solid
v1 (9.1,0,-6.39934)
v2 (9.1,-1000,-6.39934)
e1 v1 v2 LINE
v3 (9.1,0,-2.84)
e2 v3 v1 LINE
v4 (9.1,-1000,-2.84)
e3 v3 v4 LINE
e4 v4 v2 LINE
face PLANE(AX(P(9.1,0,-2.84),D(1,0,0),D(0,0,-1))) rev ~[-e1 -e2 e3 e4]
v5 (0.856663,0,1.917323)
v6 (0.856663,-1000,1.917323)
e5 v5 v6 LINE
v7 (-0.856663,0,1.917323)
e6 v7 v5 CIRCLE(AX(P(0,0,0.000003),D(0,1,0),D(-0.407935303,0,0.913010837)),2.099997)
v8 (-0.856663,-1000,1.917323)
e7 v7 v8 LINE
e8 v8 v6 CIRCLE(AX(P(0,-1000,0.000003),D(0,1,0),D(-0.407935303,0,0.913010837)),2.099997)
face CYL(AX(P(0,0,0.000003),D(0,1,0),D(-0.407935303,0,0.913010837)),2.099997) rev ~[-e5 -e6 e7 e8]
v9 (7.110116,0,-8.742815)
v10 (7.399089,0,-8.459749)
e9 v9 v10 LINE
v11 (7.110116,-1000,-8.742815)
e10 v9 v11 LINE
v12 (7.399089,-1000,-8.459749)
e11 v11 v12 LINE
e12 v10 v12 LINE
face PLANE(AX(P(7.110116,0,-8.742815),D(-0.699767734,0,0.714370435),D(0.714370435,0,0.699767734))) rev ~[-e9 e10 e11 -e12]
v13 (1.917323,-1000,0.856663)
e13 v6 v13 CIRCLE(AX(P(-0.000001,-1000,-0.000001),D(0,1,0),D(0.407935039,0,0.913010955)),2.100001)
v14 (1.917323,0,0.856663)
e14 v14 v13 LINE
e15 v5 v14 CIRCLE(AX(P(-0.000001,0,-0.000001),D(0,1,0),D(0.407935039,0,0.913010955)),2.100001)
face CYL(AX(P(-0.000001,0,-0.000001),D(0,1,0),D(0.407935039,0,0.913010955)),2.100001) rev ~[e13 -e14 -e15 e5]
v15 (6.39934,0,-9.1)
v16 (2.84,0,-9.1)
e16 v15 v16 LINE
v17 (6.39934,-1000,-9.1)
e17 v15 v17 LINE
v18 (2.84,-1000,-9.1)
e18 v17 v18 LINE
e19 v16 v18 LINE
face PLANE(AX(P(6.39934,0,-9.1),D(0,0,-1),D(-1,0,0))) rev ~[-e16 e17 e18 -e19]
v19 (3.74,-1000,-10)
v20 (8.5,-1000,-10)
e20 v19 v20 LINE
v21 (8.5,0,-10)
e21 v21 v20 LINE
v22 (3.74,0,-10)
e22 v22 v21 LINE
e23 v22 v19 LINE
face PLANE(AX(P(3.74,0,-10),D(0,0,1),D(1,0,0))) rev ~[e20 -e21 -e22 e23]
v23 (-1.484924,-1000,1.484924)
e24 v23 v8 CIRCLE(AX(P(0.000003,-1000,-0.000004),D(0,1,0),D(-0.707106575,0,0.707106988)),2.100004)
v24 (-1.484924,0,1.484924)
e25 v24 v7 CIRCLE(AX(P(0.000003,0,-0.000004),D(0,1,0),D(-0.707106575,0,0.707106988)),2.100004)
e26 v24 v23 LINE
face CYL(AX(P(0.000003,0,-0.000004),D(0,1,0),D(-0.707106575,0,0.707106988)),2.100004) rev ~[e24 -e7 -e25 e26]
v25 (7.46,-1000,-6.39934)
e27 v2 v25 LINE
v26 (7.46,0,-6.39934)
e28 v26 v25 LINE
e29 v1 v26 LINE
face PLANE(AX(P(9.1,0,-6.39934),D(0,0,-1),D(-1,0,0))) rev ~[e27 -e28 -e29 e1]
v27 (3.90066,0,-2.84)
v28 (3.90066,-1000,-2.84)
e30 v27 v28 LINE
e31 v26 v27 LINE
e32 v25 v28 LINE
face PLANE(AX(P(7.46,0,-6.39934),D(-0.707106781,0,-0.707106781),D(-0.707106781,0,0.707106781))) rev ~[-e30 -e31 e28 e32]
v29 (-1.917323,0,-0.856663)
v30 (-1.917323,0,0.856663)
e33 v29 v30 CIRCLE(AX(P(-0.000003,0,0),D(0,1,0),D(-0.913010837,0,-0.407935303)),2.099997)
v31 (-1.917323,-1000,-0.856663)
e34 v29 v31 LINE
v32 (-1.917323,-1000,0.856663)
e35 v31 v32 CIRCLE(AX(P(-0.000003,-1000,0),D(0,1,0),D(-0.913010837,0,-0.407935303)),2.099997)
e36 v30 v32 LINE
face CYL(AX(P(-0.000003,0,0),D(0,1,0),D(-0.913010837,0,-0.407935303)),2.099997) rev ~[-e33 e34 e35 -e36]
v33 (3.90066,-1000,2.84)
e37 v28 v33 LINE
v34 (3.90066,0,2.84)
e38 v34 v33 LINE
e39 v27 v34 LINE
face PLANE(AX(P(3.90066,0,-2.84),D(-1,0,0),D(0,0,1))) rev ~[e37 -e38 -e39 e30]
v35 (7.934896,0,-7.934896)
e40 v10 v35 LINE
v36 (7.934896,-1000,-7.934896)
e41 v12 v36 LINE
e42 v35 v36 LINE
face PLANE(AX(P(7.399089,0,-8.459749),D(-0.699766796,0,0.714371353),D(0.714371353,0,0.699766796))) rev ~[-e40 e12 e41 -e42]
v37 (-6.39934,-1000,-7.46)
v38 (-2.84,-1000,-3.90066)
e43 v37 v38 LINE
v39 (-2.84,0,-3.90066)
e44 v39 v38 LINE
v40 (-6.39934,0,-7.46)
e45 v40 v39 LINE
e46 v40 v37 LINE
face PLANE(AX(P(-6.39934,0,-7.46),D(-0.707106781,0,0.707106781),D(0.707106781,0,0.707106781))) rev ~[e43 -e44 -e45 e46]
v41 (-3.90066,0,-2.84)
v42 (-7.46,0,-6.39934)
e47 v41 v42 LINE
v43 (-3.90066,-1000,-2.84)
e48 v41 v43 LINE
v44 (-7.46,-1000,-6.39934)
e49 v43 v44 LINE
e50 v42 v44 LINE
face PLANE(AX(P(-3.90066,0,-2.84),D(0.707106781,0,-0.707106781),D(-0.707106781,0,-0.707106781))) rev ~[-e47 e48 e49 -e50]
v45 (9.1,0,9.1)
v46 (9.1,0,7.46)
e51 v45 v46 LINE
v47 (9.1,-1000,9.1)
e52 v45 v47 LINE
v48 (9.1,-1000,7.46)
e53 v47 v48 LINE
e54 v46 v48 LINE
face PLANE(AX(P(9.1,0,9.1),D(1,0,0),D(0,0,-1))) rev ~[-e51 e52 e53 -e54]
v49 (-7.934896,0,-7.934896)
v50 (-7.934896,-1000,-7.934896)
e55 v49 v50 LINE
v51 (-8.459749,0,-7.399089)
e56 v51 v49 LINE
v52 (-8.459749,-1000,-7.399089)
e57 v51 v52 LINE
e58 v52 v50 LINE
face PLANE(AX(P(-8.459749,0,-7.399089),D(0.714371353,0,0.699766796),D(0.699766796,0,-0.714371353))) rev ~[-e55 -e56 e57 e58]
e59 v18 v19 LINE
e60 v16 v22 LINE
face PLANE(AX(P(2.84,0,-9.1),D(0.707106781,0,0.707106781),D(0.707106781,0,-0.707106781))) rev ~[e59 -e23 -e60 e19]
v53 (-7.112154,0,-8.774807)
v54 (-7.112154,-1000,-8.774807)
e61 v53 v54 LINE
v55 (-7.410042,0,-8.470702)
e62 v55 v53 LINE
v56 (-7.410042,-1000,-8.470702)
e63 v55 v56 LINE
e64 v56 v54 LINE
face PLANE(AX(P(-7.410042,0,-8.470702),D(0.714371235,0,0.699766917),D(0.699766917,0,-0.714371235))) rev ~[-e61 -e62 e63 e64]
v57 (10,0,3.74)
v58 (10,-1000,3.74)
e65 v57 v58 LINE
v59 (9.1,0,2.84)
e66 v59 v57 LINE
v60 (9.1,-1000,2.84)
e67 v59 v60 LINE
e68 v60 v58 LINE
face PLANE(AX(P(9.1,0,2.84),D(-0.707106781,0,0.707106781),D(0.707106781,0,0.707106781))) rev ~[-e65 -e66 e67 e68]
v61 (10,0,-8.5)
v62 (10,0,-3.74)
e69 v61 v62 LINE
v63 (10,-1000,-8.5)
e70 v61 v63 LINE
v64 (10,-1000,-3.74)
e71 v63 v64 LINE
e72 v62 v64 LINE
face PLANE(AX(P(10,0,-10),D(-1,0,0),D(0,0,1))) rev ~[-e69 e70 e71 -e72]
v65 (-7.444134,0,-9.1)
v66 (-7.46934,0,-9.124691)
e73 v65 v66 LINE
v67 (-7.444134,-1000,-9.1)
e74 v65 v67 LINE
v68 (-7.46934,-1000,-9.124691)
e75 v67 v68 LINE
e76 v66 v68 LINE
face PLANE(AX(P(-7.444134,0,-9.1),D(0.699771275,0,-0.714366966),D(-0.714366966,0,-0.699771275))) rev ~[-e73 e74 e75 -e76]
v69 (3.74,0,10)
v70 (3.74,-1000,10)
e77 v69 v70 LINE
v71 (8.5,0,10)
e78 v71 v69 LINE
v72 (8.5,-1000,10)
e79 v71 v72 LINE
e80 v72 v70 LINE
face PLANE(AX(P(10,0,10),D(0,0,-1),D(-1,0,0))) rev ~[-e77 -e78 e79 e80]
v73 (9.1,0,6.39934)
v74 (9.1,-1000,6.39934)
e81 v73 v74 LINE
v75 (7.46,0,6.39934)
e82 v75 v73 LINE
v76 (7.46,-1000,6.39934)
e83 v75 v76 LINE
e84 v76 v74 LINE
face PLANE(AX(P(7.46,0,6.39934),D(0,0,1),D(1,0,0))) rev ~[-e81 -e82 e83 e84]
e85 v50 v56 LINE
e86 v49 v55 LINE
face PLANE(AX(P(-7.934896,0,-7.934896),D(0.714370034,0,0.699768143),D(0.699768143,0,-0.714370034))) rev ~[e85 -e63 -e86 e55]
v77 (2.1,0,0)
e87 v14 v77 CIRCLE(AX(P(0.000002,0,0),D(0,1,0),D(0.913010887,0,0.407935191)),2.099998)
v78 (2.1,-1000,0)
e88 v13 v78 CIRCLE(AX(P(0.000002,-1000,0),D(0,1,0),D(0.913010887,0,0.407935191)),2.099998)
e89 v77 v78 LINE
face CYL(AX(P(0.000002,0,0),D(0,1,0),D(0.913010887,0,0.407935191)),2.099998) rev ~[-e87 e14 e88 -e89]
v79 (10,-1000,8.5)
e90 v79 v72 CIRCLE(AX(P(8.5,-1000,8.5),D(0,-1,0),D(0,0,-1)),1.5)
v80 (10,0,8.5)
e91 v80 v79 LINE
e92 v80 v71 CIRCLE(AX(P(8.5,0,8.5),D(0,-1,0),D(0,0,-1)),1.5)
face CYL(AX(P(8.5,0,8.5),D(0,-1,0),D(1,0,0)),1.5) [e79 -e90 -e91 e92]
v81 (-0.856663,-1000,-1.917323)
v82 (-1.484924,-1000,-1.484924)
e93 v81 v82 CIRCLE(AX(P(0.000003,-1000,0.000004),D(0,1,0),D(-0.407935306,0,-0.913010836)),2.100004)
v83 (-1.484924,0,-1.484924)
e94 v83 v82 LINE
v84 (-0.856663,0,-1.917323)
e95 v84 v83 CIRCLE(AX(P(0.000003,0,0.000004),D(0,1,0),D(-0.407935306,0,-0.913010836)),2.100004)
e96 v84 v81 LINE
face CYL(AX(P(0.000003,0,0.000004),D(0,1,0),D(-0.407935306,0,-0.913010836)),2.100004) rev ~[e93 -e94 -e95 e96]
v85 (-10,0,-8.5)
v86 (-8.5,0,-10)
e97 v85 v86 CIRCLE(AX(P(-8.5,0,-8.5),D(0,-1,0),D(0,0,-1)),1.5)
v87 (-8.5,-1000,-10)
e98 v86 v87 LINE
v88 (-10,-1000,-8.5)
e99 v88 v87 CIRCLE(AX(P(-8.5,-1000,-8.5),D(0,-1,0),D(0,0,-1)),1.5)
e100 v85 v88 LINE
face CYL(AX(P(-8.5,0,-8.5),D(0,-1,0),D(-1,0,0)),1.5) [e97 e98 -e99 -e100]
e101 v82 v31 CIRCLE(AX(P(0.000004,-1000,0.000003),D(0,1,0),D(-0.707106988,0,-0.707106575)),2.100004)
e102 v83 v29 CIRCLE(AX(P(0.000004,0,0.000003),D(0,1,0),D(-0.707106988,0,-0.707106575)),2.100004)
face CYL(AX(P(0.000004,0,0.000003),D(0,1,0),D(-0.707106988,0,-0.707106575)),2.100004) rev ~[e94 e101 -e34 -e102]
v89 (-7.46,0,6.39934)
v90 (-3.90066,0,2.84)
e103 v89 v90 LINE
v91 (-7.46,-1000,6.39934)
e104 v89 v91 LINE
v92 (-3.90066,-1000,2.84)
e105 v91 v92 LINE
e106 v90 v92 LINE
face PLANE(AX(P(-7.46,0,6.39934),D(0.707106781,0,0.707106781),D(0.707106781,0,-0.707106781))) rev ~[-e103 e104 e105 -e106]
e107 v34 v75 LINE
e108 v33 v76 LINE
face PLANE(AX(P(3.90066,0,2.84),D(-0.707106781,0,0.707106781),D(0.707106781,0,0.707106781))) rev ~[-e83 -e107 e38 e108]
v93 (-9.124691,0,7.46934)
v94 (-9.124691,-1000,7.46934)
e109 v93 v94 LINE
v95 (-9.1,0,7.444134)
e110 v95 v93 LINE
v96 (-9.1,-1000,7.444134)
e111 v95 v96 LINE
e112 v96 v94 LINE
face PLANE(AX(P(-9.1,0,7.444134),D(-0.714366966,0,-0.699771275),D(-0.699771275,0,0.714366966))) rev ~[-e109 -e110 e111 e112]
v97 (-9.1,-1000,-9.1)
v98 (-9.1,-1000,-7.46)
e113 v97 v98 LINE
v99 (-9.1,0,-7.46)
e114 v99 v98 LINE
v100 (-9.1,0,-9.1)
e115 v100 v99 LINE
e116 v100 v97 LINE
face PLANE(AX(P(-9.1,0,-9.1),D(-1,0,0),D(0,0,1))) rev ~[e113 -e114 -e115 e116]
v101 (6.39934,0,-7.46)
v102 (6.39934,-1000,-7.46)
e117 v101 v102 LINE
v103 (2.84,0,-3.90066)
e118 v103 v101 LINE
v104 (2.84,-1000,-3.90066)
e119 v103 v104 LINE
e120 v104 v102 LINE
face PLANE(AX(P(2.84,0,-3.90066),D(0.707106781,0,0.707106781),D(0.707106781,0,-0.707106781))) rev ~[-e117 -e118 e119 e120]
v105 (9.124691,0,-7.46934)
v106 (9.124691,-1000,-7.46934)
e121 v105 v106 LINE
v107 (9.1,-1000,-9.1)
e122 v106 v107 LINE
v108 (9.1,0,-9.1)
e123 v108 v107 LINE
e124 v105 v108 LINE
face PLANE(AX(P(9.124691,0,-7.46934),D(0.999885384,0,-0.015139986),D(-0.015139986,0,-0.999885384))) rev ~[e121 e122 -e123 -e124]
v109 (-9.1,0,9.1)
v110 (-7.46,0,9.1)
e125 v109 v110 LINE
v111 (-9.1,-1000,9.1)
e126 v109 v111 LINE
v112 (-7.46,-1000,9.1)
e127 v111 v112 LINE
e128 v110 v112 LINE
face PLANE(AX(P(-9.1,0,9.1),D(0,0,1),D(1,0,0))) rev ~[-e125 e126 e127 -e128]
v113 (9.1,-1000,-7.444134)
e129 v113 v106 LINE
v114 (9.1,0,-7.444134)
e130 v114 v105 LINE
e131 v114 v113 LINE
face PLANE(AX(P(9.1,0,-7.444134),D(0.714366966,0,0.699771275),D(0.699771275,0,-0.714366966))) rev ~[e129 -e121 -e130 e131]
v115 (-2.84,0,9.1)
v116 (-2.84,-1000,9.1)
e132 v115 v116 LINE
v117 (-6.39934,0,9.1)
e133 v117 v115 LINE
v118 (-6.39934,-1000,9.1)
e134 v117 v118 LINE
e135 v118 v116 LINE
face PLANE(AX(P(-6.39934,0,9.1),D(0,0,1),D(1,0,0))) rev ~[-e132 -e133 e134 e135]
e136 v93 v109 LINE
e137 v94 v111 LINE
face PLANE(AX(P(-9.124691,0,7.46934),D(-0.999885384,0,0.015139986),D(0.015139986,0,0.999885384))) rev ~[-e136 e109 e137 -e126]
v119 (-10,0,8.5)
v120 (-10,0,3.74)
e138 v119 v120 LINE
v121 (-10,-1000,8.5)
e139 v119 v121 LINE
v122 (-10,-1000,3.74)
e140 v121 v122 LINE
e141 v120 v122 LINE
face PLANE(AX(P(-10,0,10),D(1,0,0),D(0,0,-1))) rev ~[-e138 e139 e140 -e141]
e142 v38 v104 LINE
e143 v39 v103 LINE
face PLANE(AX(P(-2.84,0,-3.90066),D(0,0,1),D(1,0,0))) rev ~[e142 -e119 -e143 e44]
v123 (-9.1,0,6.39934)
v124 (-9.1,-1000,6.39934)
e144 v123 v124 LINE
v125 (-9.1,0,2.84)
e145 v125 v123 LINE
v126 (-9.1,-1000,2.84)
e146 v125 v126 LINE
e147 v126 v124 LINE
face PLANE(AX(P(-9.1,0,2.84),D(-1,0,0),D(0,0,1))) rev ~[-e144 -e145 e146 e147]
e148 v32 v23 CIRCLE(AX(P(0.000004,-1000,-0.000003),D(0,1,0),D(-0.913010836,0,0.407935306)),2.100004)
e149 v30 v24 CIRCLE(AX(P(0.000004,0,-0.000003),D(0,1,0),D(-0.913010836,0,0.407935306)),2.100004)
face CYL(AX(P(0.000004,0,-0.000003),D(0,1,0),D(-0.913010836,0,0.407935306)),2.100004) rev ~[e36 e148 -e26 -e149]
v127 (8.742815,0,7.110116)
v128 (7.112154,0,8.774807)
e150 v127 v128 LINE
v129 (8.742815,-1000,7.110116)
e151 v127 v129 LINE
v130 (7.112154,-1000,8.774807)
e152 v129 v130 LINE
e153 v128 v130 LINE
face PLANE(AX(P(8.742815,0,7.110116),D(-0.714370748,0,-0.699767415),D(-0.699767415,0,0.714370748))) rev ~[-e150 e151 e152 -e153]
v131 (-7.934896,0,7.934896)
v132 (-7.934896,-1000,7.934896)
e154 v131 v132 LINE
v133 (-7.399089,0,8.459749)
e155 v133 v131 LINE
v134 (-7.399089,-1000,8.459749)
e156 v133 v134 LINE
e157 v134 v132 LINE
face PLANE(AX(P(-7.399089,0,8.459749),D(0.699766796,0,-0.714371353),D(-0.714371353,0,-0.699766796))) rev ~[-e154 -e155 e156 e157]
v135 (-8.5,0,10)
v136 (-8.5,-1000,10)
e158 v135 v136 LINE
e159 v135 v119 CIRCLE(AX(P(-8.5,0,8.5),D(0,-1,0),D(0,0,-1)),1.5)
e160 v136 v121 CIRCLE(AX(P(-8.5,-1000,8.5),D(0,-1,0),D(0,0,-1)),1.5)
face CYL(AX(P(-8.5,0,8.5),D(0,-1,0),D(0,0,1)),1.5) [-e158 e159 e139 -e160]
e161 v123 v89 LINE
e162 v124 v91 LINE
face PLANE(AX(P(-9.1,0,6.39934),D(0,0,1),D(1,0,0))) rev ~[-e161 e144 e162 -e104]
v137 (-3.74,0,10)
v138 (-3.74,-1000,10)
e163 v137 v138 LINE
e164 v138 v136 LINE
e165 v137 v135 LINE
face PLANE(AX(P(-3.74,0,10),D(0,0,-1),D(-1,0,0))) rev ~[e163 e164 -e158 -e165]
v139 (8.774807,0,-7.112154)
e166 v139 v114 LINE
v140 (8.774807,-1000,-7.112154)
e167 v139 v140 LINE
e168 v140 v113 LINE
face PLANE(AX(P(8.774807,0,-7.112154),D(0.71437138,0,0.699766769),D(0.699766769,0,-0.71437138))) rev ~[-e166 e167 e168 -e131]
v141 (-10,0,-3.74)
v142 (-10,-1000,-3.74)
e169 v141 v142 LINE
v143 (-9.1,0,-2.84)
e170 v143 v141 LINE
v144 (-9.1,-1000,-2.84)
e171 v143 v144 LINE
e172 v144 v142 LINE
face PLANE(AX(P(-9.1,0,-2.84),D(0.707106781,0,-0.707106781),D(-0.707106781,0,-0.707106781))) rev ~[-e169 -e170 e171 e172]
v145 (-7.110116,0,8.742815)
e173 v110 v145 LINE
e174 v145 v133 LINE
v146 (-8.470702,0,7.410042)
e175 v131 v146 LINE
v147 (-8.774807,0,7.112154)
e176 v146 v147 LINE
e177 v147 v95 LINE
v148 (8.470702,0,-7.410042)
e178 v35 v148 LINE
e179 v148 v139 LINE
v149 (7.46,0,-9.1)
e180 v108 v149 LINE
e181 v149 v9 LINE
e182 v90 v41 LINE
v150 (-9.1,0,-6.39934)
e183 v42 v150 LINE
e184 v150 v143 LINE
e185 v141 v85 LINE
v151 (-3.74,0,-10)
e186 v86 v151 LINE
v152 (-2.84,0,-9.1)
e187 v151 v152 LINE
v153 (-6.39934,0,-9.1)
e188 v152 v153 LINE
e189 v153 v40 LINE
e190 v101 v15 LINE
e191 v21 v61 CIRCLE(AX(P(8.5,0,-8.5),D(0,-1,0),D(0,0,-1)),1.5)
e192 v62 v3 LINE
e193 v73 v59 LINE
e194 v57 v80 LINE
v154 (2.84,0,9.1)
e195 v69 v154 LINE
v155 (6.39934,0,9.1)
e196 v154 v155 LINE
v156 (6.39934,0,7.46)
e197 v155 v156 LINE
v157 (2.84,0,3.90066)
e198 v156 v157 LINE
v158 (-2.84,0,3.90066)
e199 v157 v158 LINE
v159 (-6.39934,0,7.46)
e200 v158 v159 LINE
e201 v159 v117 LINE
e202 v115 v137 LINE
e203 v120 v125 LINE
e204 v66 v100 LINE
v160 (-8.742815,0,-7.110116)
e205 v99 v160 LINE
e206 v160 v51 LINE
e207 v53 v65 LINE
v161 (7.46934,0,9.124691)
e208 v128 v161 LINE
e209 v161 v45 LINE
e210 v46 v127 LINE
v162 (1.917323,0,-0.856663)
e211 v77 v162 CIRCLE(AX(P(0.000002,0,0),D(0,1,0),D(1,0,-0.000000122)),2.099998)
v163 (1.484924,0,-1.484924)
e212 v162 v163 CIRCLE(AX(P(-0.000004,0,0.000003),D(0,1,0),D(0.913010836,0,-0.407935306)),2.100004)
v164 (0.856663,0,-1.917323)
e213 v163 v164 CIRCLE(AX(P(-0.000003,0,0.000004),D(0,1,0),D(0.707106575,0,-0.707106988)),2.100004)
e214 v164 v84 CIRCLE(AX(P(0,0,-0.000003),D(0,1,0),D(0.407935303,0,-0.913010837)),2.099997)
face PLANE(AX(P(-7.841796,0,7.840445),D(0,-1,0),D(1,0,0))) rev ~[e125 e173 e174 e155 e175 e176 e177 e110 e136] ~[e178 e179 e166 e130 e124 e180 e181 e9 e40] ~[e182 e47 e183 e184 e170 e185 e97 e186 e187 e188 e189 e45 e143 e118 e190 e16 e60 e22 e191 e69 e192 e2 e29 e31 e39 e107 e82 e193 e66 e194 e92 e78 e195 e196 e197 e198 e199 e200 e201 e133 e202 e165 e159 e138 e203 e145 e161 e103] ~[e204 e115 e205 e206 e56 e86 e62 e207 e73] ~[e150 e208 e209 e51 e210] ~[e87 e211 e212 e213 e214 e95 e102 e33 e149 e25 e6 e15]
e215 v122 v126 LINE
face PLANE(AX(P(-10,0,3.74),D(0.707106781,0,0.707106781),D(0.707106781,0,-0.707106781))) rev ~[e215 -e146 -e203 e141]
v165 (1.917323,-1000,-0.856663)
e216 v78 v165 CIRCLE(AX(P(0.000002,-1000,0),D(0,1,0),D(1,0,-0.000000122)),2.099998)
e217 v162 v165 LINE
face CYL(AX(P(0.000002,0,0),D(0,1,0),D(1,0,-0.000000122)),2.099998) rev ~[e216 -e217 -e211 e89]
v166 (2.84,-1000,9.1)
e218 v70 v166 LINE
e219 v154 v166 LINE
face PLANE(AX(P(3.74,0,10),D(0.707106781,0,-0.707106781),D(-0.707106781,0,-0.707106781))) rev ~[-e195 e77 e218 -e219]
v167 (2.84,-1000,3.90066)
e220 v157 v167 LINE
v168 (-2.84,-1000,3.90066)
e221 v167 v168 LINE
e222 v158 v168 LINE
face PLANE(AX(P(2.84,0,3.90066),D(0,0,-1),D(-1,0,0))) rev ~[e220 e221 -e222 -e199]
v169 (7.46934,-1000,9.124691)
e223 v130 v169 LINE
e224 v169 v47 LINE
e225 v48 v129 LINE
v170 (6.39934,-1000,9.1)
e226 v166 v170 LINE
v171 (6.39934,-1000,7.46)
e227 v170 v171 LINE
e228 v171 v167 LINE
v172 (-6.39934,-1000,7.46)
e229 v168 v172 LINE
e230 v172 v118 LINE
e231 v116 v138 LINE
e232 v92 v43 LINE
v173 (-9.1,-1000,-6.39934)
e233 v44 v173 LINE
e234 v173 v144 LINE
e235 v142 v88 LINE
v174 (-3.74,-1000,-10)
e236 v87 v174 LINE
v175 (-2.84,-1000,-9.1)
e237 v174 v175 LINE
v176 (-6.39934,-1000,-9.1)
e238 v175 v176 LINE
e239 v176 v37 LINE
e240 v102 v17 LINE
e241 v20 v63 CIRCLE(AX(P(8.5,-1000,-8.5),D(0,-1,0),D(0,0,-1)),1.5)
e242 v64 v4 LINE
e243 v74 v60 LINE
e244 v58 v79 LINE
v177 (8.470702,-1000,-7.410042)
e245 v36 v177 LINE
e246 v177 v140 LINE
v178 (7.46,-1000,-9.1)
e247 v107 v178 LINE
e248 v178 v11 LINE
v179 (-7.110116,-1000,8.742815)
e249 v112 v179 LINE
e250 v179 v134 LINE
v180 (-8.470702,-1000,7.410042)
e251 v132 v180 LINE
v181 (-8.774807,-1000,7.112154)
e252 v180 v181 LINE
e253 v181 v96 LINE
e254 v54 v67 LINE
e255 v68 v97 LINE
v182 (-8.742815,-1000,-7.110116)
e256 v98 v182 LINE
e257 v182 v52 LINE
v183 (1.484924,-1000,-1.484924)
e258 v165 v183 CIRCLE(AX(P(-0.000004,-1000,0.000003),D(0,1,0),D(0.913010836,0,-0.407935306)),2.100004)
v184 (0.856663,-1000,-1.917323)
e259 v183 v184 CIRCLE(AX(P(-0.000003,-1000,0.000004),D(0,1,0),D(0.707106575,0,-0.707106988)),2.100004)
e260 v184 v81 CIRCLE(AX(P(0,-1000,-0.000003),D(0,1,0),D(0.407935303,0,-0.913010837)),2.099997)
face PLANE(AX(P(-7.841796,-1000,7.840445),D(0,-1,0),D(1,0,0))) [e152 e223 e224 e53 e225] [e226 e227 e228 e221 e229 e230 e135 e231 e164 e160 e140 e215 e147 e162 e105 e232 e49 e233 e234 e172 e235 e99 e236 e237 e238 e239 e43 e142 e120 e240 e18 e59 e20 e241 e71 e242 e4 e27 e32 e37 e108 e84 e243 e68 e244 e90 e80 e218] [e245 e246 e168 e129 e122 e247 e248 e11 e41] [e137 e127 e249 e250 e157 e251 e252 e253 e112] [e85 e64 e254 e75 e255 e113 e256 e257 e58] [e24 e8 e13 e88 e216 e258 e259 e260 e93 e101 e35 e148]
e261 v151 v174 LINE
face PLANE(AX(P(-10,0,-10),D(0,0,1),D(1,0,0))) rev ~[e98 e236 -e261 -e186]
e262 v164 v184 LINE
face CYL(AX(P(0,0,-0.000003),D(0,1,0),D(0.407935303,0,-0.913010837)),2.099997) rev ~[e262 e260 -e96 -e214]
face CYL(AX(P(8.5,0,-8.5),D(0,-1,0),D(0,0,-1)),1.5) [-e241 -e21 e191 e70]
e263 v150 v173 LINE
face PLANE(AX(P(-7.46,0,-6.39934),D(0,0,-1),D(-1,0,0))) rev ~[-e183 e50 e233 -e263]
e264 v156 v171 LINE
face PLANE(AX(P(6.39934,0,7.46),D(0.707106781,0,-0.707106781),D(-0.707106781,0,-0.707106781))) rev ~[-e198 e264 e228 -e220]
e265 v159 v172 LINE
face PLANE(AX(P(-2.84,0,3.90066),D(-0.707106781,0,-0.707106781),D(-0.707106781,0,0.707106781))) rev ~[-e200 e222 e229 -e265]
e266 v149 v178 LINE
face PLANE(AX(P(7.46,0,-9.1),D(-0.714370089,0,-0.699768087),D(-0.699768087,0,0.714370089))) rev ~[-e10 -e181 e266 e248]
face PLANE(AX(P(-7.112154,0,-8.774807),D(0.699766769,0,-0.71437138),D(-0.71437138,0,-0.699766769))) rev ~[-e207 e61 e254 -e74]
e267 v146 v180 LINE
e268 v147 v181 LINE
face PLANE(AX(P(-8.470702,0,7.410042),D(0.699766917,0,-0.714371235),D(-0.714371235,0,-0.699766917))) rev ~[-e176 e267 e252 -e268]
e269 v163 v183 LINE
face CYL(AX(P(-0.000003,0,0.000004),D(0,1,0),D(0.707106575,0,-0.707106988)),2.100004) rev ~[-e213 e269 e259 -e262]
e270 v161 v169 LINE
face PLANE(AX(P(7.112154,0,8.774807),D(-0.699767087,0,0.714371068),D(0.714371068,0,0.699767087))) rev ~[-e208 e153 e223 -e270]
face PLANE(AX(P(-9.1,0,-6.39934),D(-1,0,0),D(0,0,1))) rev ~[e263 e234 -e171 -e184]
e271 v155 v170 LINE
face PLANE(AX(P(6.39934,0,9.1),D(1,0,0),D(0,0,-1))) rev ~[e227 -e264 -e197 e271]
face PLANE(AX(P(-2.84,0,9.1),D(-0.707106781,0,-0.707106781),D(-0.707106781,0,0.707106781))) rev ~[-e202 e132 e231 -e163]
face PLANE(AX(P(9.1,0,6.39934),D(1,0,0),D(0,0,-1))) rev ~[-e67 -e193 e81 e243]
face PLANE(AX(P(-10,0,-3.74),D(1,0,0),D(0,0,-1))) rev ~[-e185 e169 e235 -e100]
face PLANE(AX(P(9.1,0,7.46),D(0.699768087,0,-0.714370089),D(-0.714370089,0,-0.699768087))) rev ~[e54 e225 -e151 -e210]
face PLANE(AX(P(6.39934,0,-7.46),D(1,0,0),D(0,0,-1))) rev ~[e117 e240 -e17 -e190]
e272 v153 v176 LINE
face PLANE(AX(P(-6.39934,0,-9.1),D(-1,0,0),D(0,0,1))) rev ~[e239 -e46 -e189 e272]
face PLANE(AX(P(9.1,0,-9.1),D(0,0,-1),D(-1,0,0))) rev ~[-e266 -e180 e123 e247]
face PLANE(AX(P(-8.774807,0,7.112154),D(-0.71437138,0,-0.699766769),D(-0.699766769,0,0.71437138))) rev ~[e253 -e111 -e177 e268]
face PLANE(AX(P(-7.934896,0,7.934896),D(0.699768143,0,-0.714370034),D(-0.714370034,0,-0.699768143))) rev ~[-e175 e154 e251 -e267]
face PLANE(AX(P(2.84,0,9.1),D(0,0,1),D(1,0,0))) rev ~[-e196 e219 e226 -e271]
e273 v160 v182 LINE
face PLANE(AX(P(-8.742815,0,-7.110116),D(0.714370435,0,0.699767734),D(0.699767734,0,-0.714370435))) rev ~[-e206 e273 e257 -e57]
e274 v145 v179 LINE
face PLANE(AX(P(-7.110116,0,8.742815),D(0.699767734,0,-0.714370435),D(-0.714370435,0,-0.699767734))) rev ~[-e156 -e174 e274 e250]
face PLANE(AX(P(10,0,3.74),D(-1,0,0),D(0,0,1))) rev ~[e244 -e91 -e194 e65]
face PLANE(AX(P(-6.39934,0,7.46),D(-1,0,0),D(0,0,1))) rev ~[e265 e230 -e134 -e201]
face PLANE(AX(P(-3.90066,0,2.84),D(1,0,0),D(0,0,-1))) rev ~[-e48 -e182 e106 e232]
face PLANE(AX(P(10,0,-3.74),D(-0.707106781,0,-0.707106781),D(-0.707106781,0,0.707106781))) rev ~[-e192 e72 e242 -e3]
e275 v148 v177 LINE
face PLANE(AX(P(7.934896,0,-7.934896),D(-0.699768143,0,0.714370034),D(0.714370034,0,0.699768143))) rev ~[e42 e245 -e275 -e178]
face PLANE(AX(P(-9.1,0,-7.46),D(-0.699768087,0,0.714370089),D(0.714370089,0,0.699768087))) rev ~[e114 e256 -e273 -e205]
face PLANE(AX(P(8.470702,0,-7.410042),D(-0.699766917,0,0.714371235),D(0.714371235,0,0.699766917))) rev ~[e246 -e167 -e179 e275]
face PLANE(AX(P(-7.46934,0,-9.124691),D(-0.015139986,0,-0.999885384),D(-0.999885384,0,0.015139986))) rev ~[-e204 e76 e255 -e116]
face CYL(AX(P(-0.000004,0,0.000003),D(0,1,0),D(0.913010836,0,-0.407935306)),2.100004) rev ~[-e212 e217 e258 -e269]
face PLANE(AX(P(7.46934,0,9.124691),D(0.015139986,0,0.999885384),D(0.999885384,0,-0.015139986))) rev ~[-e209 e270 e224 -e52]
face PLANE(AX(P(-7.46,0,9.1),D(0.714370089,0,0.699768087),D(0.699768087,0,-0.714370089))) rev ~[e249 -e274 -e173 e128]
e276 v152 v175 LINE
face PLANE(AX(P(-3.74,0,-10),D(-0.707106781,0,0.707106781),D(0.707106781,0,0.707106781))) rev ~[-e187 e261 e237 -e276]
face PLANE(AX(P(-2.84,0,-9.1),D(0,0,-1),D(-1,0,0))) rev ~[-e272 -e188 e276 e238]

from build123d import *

# Parameters (mm, degrees)
F1_DEPTH = 1000
F2_R     = 1.5


with BuildPart() as f1:
    # F0 (on Front) → F1 (new body)
    with BuildSketch(Plane.XZ):
        Polygon((-7.46, 9.1), (-6.39934, 9.1), (-2.84, 9.1), (-3.74, 10), (-10, 10), (-10, 3.74), (-9.1, 2.84), (-9.1, 6.39934), (-9.1, 7.444134), (-9.124691, 7.46934), (-9.1, 9.1), align=None)
        Polygon((-7.399089, 8.459749), (-6.39934, 7.46), (-6.39934, 9.1), (-7.46, 9.1), (-7.110116, 8.742815), align=None)
        Polygon((-7.46, 6.39934), (-8.470702, 7.410042), (-8.774807, 7.112154), (-9.1, 7.444134), (-9.1, 6.39934), align=None)
        with BuildLine():
            ThreePointArc((-1.917323, 0.856663), (-1.729884, 1.190588), (-1.484924, 1.484924))
            Line((-1.484924, 1.484924), (-7.934896, 7.934896))
            Line((-7.934896, 7.934896), (-8.470702, 7.410042))
            Line((-8.470702, 7.410042), (-7.46, 6.39934))
            Line((-7.46, 6.39934), (-3.90066, 2.84))
            Line((-3.90066, 2.84), (-1.917323, 0.856663))
        make_face()
        with BuildLine():
            ThreePointArc((-1.484924, 1.484924), (-1.190588, 1.729884), (-0.856663, 1.917323))
            Line((-0.856663, 1.917323), (-2.84, 3.90066))
            Line((-2.84, 3.90066), (-6.39934, 7.46))
            Line((-6.39934, 7.46), (-7.399089, 8.459749))
            Line((-7.399089, 8.459749), (-7.934896, 7.934896))
            Line((-7.934896, 7.934896), (-1.484924, 1.484924))
        make_face()
        with BuildLine():
            ThreePointArc((0.856663, 1.917323), (1.484924, 1.484924), (1.917323, 0.856663))
            Line((1.917323, 0.856663), (3.90066, 2.84))
            Line((3.90066, 2.84), (7.46, 6.39934))
            Line((7.46, 6.39934), (9.1, 6.39934))
            Line((9.1, 6.39934), (9.1, 2.84))
            Line((9.1, 2.84), (10, 3.74))
            Line((10, 3.74), (10, 10))
            Line((10, 10), (3.74, 10))
            Line((3.74, 10), (2.84, 9.1))
            Line((2.84, 9.1), (6.39934, 9.1))
            Line((6.39934, 9.1), (6.39934, 7.46))
            Line((6.39934, 7.46), (2.84, 3.90066))
            Line((2.84, 3.90066), (0.856663, 1.917323))
        make_face()
        Polygon((7.112154, 8.774807), (7.46934, 9.124691), (9.1, 9.1), (9.1, 7.46), (8.742815, 7.110116), align=None, mode=Mode.SUBTRACT)
        with BuildLine():
            ThreePointArc((1.917323, 0.856663), (2.053823, 0.437962), (2.1, 0))
            ThreePointArc((2.1, 0), (2.053823, -0.437962), (1.917323, -0.856663))
            Line((1.917323, -0.856663), (3.90066, -2.84))
            Line((3.90066, -2.84), (3.90066, 2.84))
            Line((3.90066, 2.84), (1.917323, 0.856663))
        make_face()
        with BuildLine():
            ThreePointArc((-0.856663, 1.917323), (0, 2.1), (0.856663, 1.917323))
            Line((0.856663, 1.917323), (2.84, 3.90066))
            Line((2.84, 3.90066), (-2.84, 3.90066))
            Line((-2.84, 3.90066), (-0.856663, 1.917323))
        make_face()
        with BuildLine():
            ThreePointArc((-1.917323, -0.856663), (-2.1, 0), (-1.917323, 0.856663))
            Line((-1.917323, 0.856663), (-3.90066, 2.84))
            Line((-3.90066, 2.84), (-3.90066, -2.84))
            Line((-3.90066, -2.84), (-1.917323, -0.856663))
        make_face()
        with BuildLine():
            Line((2.84, -3.90066), (0.856663, -1.917323))
            ThreePointArc((0.856663, -1.917323), (0, -2.1), (-0.856663, -1.917323))
            Line((-0.856663, -1.917323), (-2.84, -3.90066))
            Line((-2.84, -3.90066), (2.84, -3.90066))
        make_face()
        with BuildLine():
            Line((-2.84, -3.90066), (-0.856663, -1.917323))
            ThreePointArc((-0.856663, -1.917323), (-1.190588, -1.729884), (-1.484924, -1.484924))
            Line((-1.484924, -1.484924), (-7.934896, -7.934896))
            Line((-7.934896, -7.934896), (-7.410042, -8.470702))
            Line((-7.410042, -8.470702), (-6.39934, -7.46))
            Line((-6.39934, -7.46), (-2.84, -3.90066))
        make_face()
        with BuildLine():
            Line((-7.934896, -7.934896), (-1.484924, -1.484924))
            ThreePointArc((-1.484924, -1.484924), (-1.729884, -1.190588), (-1.917323, -0.856663))
            Line((-1.917323, -0.856663), (-3.90066, -2.84))
            Line((-3.90066, -2.84), (-7.46, -6.39934))
            Line((-7.46, -6.39934), (-8.459749, -7.399089))
            Line((-8.459749, -7.399089), (-7.934896, -7.934896))
        make_face()
        with BuildLine():
            Line((7.934896, -7.934896), (1.484924, -1.484924))
            ThreePointArc((1.484924, -1.484924), (1.190588, -1.729884), (0.856663, -1.917323))
            Line((0.856663, -1.917323), (2.84, -3.90066))
            Line((2.84, -3.90066), (6.39934, -7.46))
            Line((6.39934, -7.46), (7.399089, -8.459749))
            Line((7.399089, -8.459749), (7.934896, -7.934896))
        make_face()
        with BuildLine():
            Line((3.90066, -2.84), (1.917323, -0.856663))
            ThreePointArc((1.917323, -0.856663), (1.729884, -1.190588), (1.484924, -1.484924))
            Line((1.484924, -1.484924), (7.934896, -7.934896))
            Line((7.934896, -7.934896), (8.470702, -7.410042))
            Line((8.470702, -7.410042), (7.46, -6.39934))
            Line((7.46, -6.39934), (3.90066, -2.84))
        make_face()
        Polygon((9.1, -2.84), (9.1, -6.39934), (9.1, -7.444134), (9.124691, -7.46934), (9.1, -9.1), (7.46, -9.1), (6.39934, -9.1), (2.84, -9.1), (3.74, -10), (10, -10), (10, -3.74), align=None)
        Polygon((9.1, -6.39934), (7.46, -6.39934), (8.470702, -7.410042), (8.774807, -7.112154), (9.1, -7.444134), align=None)
        Polygon((7.110116, -8.742815), (7.399089, -8.459749), (6.39934, -7.46), (6.39934, -9.1), (7.46, -9.1), align=None)
        Polygon((-2.84, -9.1), (-6.39934, -9.1), (-7.444134, -9.1), (-7.46934, -9.124691), (-9.1, -9.1), (-9.1, -7.46), (-9.1, -6.39934), (-9.1, -2.84), (-10, -3.74), (-10, -10), (-3.74, -10), align=None)
        Polygon((-6.39934, -9.1), (-6.39934, -7.46), (-7.410042, -8.470702), (-7.112154, -8.774807), (-7.444134, -9.1), align=None)
        Polygon((-8.742815, -7.110116), (-8.459749, -7.399089), (-7.46, -6.39934), (-9.1, -6.39934), (-9.1, -7.46), align=None)
    extrude(amount=F1_DEPTH)

    # F2
    f2_edges = [f1.edges().sort_by_distance(p)[0] for p in [
        (10, -500, 10),
        (-10, -500, 10),
        (-10, -500, -10),
        (10, -500, -10),
    ]]
    fillet(f2_edges, radius=F2_R)


solid = f1.part
